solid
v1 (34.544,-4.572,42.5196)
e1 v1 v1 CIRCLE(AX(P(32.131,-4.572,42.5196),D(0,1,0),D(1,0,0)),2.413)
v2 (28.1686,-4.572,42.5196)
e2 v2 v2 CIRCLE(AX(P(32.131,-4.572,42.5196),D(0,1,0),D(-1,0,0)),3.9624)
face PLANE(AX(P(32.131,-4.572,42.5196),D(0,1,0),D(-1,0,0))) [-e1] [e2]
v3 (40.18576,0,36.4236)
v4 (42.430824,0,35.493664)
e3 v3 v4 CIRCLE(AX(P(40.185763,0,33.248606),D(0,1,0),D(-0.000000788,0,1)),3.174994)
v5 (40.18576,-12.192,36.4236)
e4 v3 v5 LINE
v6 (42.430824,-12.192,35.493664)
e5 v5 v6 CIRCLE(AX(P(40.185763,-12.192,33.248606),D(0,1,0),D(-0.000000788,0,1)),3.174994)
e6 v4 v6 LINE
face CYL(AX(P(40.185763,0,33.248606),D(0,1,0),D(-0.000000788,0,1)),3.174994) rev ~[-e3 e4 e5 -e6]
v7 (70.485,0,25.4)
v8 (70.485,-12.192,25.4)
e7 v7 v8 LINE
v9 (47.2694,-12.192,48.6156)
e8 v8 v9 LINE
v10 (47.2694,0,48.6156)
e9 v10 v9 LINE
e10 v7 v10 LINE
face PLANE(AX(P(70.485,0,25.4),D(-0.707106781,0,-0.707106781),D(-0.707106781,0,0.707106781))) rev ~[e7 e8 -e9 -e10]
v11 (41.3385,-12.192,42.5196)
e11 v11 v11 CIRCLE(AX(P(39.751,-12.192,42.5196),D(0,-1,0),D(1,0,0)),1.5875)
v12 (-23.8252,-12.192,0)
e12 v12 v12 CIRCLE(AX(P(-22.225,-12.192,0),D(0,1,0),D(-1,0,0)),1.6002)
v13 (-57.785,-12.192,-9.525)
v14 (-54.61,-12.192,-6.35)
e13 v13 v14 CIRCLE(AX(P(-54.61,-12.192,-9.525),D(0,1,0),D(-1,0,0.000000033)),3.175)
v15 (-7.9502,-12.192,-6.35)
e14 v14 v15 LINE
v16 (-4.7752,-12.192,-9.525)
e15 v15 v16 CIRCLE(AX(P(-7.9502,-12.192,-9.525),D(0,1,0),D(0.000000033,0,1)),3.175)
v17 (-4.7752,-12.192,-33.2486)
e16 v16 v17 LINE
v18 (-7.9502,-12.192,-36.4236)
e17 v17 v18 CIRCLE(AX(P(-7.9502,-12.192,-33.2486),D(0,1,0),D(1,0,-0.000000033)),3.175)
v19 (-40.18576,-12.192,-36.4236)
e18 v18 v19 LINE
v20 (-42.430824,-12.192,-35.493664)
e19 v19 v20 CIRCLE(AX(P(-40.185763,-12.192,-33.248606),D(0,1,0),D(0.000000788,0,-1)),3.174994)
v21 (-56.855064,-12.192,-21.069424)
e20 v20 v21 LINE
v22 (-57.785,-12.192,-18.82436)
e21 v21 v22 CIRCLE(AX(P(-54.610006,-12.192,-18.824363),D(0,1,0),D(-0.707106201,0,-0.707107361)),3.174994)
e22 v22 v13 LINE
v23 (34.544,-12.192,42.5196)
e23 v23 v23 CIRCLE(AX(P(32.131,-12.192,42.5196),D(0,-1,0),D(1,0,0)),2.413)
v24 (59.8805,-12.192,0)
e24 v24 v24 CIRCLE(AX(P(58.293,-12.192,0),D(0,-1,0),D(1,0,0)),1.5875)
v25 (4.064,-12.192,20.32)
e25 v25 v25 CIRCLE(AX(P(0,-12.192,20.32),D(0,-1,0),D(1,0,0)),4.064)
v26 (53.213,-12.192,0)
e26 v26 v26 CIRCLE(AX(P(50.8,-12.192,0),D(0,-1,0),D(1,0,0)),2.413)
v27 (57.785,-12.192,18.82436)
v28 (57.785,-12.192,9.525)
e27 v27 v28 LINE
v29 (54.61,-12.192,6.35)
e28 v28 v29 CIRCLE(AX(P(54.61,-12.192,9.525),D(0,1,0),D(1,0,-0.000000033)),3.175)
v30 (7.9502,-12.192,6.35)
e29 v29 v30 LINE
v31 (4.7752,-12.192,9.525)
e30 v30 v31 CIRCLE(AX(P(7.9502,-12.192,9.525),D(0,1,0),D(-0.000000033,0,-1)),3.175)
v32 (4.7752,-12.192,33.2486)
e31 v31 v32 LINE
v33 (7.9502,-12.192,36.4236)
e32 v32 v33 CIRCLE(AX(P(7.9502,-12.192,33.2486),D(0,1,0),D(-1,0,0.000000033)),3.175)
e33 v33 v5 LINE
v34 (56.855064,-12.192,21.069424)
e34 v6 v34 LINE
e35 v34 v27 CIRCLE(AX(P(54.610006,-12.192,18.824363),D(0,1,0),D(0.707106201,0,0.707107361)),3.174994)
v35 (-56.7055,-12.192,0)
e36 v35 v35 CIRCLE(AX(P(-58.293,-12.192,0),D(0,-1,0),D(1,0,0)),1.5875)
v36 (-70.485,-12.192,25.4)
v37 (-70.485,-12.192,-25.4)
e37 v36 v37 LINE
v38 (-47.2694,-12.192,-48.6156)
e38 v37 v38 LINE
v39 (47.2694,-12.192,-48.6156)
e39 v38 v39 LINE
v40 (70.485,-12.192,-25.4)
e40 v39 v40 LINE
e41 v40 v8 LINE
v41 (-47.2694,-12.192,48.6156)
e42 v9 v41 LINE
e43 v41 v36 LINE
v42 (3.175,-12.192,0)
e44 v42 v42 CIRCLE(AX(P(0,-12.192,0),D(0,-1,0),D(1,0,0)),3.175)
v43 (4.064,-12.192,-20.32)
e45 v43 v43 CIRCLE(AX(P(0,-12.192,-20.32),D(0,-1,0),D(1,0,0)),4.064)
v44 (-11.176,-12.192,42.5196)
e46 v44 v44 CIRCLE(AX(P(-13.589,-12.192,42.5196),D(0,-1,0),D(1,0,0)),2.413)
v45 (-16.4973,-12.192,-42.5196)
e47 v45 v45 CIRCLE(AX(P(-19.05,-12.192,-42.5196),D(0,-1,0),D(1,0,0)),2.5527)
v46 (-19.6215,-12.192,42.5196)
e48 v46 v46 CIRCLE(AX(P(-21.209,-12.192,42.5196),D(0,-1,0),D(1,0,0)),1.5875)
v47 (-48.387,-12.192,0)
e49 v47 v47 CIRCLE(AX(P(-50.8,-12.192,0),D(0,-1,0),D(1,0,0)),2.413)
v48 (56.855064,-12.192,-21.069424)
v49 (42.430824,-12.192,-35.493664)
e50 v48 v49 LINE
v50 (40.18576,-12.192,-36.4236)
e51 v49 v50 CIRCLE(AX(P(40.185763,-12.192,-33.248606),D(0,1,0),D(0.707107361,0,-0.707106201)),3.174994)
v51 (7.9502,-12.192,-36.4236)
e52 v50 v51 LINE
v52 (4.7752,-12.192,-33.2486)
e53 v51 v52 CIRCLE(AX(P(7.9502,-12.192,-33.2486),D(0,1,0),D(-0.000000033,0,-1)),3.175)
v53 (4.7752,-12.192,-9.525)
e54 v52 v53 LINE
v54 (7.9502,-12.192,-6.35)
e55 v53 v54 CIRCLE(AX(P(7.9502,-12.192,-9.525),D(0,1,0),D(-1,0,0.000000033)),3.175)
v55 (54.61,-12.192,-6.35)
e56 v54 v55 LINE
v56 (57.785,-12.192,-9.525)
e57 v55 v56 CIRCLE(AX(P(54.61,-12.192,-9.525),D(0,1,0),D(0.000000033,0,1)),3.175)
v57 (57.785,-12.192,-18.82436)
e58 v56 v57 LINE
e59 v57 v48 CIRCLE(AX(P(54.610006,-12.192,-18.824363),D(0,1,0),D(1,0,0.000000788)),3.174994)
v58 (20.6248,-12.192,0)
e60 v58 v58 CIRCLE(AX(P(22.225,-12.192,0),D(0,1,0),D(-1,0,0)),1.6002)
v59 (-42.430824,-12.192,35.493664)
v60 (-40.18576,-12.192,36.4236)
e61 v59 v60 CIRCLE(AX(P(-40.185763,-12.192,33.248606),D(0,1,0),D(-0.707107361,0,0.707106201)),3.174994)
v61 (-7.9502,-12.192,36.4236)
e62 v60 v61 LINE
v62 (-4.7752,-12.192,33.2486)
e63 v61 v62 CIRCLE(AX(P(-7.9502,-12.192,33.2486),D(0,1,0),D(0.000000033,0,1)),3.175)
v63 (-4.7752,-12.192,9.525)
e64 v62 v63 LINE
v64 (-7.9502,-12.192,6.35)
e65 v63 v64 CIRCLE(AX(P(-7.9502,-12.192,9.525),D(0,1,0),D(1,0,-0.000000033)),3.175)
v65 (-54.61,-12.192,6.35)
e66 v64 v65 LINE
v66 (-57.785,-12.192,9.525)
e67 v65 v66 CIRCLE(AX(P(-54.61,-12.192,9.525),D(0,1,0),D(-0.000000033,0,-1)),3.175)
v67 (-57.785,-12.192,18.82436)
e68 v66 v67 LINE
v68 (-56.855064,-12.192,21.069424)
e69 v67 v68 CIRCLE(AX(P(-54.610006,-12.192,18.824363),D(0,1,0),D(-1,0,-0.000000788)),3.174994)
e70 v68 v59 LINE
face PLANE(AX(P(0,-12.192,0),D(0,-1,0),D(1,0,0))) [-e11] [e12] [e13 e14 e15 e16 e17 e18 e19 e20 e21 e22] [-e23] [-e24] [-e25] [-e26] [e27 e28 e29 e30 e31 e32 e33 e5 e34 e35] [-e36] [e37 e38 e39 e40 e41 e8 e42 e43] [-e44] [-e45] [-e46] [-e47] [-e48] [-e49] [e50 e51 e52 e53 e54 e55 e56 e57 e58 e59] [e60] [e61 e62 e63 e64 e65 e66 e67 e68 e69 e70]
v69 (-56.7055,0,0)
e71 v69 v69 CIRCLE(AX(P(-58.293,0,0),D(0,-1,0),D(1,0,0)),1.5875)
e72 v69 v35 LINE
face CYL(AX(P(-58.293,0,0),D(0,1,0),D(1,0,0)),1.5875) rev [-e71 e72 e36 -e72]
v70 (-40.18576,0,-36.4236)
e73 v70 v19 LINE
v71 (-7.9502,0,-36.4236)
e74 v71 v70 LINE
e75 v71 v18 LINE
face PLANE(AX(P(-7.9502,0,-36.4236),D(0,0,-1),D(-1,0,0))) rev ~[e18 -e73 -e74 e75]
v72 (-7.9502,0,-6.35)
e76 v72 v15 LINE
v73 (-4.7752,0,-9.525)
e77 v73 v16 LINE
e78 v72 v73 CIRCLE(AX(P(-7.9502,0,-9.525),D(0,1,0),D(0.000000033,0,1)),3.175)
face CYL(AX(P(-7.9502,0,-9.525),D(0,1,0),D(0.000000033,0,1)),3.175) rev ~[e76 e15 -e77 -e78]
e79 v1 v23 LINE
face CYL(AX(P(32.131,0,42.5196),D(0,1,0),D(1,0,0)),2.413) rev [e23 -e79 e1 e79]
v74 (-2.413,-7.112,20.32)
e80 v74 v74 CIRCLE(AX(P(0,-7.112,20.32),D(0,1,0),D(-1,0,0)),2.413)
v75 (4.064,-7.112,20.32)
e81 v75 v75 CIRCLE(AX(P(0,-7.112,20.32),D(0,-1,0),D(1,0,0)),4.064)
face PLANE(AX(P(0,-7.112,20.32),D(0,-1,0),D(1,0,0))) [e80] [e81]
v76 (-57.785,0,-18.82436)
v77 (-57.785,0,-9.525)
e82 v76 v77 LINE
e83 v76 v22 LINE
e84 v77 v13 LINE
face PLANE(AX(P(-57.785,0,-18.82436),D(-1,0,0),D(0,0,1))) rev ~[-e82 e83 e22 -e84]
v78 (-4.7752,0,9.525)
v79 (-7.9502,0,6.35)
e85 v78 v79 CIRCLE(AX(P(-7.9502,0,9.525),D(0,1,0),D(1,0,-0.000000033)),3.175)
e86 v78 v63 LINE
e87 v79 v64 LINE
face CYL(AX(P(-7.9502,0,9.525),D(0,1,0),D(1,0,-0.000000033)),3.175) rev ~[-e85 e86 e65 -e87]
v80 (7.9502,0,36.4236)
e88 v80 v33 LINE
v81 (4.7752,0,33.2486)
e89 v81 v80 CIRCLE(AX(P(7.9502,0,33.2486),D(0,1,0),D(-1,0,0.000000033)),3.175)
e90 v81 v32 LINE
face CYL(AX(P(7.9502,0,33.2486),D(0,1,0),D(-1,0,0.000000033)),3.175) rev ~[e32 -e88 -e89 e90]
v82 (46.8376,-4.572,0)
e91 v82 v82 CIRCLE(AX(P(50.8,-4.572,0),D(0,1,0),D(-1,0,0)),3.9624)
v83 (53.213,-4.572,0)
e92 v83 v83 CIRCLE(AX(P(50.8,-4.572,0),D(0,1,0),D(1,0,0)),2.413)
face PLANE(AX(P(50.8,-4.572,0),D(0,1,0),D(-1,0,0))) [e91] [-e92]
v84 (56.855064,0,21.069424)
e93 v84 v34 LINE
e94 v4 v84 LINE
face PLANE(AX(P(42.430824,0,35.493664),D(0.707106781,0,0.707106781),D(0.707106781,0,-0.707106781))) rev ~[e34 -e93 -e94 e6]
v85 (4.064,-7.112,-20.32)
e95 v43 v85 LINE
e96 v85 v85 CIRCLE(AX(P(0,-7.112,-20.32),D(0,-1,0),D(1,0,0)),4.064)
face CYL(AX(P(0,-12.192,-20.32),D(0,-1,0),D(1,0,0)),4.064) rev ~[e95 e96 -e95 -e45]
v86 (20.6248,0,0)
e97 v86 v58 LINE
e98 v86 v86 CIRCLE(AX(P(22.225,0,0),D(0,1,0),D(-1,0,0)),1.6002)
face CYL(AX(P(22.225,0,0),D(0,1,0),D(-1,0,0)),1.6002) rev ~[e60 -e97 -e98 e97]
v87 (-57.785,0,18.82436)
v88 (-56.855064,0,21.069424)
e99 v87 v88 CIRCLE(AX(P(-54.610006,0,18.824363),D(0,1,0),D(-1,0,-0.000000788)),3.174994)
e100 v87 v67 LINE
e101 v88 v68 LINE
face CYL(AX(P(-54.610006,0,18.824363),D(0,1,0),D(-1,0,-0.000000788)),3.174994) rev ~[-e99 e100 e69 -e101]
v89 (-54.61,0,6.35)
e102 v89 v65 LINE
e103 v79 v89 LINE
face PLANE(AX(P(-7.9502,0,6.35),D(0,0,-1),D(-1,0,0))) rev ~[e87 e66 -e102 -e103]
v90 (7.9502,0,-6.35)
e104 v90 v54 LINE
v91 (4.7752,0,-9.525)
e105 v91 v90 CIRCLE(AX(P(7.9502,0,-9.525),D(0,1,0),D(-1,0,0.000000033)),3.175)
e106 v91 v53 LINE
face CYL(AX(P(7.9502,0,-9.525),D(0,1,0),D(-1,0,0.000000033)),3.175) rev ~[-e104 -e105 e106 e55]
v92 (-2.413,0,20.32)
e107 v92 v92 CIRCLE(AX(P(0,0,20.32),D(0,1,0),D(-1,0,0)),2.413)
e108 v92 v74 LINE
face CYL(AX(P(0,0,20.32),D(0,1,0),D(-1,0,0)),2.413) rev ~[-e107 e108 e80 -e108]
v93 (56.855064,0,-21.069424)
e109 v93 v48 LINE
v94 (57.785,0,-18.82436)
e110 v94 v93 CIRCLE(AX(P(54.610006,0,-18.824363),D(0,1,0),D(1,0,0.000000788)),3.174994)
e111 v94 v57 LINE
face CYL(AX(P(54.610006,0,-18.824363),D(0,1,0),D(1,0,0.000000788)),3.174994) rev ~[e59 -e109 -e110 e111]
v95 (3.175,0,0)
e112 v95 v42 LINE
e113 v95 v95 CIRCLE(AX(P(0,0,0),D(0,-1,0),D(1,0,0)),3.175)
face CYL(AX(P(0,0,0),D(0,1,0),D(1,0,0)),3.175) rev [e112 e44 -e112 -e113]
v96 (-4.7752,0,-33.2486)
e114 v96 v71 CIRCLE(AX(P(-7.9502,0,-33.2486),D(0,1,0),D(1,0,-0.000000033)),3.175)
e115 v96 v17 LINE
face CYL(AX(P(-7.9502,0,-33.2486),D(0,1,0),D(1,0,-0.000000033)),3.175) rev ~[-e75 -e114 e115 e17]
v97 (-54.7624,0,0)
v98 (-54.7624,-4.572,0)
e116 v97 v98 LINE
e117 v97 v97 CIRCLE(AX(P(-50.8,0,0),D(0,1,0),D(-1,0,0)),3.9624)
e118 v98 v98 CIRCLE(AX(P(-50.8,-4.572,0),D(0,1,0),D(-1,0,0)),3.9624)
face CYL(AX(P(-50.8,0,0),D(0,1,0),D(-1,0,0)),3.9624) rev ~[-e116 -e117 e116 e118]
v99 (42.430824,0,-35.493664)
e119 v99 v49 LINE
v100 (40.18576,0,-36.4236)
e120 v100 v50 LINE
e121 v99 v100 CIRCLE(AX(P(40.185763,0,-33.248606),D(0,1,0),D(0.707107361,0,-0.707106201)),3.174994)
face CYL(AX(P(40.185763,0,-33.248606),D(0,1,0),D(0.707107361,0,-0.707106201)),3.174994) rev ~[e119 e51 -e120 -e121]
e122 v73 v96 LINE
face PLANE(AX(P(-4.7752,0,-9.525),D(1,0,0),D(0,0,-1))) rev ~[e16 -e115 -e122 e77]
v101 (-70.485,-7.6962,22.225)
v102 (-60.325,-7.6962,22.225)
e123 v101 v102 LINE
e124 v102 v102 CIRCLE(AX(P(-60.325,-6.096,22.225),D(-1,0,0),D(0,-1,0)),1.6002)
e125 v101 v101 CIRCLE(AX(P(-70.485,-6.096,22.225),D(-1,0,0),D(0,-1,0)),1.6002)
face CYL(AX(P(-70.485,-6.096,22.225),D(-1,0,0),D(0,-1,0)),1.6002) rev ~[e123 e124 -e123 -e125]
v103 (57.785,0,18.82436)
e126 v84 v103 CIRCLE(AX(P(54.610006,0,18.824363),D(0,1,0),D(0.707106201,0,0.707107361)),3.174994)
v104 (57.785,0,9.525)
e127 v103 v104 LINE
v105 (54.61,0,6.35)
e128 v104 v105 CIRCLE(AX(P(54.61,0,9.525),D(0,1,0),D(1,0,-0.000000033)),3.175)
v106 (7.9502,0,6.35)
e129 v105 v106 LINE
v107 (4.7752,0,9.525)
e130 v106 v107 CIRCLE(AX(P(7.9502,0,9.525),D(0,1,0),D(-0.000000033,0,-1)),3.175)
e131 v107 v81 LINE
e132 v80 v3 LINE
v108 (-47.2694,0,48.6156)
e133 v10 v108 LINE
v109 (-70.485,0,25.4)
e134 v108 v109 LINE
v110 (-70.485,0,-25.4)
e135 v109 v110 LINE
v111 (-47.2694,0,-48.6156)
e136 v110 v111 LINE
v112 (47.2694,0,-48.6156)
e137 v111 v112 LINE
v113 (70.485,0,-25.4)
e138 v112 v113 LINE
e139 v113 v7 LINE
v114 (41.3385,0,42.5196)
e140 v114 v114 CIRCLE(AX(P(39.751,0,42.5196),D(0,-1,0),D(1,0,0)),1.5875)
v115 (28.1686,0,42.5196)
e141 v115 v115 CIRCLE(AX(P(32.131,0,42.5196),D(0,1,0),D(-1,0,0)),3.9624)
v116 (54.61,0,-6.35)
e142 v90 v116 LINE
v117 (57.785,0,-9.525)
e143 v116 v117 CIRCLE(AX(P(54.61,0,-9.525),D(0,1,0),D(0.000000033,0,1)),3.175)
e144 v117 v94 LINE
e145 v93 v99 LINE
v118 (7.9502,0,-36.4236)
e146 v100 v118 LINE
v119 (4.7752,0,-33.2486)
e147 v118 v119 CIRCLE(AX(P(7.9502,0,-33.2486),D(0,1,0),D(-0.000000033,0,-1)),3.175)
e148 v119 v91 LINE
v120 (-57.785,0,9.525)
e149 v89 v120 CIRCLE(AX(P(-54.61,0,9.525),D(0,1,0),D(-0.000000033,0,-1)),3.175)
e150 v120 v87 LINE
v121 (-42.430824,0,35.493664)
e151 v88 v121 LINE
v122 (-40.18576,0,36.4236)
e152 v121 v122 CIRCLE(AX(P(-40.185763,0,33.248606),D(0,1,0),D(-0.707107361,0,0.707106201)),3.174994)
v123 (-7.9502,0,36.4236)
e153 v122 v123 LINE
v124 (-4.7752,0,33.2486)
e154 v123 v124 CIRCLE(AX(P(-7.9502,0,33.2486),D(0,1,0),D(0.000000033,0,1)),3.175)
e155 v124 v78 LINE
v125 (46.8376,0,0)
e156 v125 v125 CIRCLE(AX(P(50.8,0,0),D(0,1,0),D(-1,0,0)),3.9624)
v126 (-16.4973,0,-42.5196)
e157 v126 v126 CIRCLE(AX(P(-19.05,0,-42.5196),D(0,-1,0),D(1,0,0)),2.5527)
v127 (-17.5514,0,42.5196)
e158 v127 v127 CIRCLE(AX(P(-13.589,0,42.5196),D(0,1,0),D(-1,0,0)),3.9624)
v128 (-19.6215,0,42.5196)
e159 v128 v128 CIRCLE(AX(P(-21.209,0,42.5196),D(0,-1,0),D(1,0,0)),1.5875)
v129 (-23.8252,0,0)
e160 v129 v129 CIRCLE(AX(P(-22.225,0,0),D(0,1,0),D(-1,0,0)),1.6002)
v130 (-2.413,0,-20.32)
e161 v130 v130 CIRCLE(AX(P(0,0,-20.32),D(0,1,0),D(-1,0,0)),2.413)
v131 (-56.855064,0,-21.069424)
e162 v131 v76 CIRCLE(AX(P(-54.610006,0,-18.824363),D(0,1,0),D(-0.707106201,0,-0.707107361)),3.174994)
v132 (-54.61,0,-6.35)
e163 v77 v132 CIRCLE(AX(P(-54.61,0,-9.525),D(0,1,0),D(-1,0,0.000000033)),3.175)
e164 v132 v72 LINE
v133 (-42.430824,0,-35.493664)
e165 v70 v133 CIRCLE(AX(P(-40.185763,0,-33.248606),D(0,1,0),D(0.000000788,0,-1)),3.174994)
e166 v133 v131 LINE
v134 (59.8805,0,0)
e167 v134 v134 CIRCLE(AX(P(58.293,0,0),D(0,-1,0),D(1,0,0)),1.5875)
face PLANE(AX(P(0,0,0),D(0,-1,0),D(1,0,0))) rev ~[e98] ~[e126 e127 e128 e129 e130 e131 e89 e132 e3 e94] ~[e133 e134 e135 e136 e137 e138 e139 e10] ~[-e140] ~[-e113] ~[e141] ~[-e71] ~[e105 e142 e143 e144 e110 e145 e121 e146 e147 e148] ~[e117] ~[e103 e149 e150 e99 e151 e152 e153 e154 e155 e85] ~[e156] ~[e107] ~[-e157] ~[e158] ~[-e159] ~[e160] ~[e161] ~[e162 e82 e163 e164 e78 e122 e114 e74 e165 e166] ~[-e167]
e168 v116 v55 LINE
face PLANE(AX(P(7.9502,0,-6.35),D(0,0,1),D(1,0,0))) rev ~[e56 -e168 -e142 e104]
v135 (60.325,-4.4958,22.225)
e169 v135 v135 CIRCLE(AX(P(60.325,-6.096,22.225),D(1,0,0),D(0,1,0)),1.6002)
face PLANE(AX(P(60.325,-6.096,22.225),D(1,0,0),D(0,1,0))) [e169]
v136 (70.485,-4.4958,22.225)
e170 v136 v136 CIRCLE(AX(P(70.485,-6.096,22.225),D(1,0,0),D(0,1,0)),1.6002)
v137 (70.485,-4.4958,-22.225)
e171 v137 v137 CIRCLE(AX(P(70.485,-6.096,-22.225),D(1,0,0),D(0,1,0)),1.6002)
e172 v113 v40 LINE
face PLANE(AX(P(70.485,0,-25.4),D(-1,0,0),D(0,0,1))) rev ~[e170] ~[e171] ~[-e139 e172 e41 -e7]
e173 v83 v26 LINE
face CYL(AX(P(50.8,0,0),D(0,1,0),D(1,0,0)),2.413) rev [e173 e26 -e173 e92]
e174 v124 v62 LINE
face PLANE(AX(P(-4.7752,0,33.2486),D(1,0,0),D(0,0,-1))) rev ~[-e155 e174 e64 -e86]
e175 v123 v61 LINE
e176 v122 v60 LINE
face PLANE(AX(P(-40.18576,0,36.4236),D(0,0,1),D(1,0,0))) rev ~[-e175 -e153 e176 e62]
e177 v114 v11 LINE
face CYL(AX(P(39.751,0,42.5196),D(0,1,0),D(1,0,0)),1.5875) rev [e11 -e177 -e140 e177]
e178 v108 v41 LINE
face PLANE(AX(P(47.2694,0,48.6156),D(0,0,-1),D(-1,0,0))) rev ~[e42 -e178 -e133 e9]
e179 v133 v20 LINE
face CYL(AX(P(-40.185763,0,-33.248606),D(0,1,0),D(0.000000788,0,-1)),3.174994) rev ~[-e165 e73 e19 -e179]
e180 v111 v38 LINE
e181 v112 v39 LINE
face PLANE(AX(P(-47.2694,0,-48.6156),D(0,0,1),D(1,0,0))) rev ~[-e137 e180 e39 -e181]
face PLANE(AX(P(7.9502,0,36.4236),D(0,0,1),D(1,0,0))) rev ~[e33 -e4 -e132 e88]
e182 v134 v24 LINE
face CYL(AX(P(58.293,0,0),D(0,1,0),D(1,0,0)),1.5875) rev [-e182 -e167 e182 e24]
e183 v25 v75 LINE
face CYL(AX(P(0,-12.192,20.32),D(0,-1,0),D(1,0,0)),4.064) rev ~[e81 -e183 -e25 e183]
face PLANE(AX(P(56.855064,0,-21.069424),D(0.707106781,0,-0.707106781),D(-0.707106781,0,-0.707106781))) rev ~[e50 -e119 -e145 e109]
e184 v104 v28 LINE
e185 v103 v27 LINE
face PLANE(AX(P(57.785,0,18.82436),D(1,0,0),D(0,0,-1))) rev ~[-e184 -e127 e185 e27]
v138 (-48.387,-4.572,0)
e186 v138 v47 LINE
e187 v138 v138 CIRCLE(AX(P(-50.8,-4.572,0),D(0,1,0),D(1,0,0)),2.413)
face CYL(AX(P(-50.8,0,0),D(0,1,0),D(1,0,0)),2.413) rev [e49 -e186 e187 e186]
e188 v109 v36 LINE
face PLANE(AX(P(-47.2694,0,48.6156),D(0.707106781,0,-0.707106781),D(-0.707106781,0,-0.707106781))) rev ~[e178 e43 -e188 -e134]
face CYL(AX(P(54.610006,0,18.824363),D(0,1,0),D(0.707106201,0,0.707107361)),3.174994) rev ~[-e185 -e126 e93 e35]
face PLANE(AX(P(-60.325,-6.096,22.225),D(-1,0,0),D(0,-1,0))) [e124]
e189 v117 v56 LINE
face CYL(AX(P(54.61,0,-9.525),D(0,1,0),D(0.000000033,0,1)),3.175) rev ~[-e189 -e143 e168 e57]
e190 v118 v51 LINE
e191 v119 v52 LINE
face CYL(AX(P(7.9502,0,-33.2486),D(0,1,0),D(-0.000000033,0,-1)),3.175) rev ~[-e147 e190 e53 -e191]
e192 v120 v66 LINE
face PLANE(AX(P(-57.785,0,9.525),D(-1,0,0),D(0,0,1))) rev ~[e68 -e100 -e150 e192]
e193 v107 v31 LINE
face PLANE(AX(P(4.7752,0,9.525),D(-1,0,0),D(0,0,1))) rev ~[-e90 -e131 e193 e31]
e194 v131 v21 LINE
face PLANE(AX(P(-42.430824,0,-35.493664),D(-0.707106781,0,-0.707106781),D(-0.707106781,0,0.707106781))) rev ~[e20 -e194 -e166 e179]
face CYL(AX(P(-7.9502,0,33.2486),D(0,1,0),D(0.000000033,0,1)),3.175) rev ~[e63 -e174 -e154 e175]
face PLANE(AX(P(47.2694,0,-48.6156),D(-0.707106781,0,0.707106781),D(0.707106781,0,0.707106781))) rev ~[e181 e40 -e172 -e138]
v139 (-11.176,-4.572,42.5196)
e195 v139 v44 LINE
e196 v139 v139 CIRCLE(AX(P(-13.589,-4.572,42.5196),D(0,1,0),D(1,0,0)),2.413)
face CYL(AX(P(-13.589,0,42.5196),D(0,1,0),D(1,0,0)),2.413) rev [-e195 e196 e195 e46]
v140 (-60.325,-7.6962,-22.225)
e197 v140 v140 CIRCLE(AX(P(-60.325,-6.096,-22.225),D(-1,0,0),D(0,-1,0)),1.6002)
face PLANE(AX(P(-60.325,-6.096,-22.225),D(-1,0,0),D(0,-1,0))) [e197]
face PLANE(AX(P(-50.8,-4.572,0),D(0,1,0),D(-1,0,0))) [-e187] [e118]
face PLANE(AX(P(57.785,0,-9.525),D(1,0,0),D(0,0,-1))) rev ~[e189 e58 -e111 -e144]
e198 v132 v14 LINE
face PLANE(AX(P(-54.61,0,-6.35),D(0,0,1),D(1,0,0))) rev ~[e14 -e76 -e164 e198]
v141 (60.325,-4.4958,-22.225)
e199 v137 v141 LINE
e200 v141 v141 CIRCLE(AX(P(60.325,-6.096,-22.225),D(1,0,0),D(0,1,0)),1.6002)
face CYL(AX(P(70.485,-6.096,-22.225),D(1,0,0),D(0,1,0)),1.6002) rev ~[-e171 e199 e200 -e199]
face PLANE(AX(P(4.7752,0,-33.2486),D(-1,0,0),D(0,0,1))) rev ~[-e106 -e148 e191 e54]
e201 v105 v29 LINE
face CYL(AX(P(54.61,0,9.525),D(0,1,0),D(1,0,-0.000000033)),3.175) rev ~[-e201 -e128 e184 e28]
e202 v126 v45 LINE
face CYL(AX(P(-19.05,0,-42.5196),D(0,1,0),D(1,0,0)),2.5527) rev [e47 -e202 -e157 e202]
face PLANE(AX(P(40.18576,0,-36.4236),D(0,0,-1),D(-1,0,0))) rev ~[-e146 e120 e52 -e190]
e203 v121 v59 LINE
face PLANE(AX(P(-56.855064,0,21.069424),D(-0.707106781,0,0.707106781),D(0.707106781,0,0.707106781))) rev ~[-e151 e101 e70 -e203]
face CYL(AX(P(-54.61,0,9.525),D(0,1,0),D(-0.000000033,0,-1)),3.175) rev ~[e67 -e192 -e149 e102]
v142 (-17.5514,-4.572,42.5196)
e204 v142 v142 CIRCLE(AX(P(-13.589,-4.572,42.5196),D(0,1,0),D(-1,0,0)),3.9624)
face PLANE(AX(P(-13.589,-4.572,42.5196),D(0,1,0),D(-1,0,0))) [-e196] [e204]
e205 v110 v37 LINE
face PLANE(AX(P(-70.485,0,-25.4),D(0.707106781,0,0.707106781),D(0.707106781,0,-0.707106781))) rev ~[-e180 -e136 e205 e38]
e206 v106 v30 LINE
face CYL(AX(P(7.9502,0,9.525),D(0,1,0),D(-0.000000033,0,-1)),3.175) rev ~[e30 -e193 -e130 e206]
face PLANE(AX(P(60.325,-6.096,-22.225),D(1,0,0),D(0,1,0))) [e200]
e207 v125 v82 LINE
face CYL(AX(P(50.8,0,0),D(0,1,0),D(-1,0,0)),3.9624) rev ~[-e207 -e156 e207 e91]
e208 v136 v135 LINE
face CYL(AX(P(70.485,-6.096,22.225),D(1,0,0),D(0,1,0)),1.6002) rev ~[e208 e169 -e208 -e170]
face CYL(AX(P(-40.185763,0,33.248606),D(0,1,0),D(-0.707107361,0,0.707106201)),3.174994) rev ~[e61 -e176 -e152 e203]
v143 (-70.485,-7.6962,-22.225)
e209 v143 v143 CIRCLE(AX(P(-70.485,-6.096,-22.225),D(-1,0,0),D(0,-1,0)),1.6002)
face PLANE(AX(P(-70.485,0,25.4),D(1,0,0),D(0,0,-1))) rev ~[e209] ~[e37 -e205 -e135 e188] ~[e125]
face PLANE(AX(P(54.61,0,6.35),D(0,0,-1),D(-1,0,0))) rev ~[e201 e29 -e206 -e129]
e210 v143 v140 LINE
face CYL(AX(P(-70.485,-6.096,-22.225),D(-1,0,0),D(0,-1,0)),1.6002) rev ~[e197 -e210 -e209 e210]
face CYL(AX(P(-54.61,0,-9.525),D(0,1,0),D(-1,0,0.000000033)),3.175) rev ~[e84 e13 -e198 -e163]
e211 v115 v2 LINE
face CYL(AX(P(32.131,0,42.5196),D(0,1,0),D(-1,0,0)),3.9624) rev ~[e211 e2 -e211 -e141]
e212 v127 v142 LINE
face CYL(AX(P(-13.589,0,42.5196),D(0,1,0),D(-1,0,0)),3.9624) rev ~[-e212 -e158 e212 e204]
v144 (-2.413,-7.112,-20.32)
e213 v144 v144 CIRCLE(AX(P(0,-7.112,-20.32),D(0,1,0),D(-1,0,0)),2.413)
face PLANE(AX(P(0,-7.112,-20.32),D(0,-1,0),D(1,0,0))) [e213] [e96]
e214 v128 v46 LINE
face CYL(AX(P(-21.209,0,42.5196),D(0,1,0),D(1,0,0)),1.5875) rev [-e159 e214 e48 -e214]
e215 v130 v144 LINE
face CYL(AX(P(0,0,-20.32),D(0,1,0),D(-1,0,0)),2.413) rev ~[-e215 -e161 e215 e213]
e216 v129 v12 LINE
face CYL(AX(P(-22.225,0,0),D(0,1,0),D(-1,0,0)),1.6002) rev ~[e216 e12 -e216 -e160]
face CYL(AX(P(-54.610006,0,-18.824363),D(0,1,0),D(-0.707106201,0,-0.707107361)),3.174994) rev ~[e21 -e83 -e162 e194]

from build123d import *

# Parameters (mm, degrees)
F0_R      = 2.5527
F0_R_2    = 1.5875
F0_R_3    = 2.413
F0_R_4    = 3.175
F1_DEPTH  = 12.192
F2_R      = 3.9624
F3_DEPTH  = 4.572
F4_R      = 1.6002
F5_DEPTH  = 10.16
F6_R      = 1.6002
F7_DEPTH  = 10.16
F8_R      = 2.413
F8_R_2    = 1.6002
F9_DEPTH  = 12.193
F10_R     = 4.064
F11_DEPTH = 5.08


with BuildPart() as f1:
    # F0 (on Front) → F1 (new body)
    with BuildSketch(Plane.XZ):
        Polygon((47.2694, 48.6156), (0, 48.6156), (-47.2694, 48.6156), (-70.485, 25.4), (-70.485, 0), (-70.485, -25.4), (-47.2694, -48.6156), (0, -48.6156), (47.2694, -48.6156), (70.485, -25.4), (70.485, 0), (70.485, 25.4), align=None)
        with Locations((-19.05, -42.5196)):
            Circle(F0_R, mode=Mode.SUBTRACT)
        with BuildLine():
            Line((-7.9502, -36.4236), (-40.18576, -36.4236))
            ThreePointArc((-40.18576, -36.4236), (-41.40078, -36.181918), (-42.430824, -35.493664))
            Line((-42.430824, -35.493664), (-56.855064, -21.069424))
            ThreePointArc((-56.855064, -21.069424), (-57.543318, -20.03938), (-57.785, -18.82436))
            Line((-57.785, -18.82436), (-57.785, -9.525))
            ThreePointArc((-57.785, -9.525), (-56.855064, -7.279936), (-54.61, -6.35))
            Line((-54.61, -6.35), (-7.9502, -6.35))
            ThreePointArc((-7.9502, -6.35), (-5.705136, -7.279936), (-4.7752, -9.525))
            Line((-4.7752, -9.525), (-4.7752, -33.2486))
            ThreePointArc((-4.7752, -33.2486), (-5.705136, -35.493664), (-7.9502, -36.4236))
        make_face(mode=Mode.SUBTRACT)
        with BuildLine():
            ThreePointArc((57.785, -18.82436), (57.543318, -20.03938), (56.855064, -21.069424))
            Line((56.855064, -21.069424), (42.430824, -35.493664))
            ThreePointArc((42.430824, -35.493664), (41.40078, -36.181918), (40.18576, -36.4236))
            Line((40.18576, -36.4236), (7.9502, -36.4236))
            ThreePointArc((7.9502, -36.4236), (5.705136, -35.493664), (4.7752, -33.2486))
            Line((4.7752, -33.2486), (4.7752, -9.525))
            ThreePointArc((4.7752, -9.525), (5.705136, -7.279936), (7.9502, -6.35))
            Line((7.9502, -6.35), (54.61, -6.35))
            ThreePointArc((54.61, -6.35), (56.855064, -7.279936), (57.785, -9.525))
            Line((57.785, -9.525), (57.785, -18.82436))
        make_face(mode=Mode.SUBTRACT)
        with Locations((-58.293, 0)):
            Circle(F0_R_2, mode=Mode.SUBTRACT)
        with Locations((-50.8, 0)):
            Circle(F0_R_3, mode=Mode.SUBTRACT)
        with BuildLine():
            Line((-40.18576, 36.4236), (-7.9502, 36.4236))
            ThreePointArc((-7.9502, 36.4236), (-5.705136, 35.493664), (-4.7752, 33.2486))
            Line((-4.7752, 33.2486), (-4.7752, 9.525))
            ThreePointArc((-4.7752, 9.525), (-5.705136, 7.279936), (-7.9502, 6.35))
            Line((-7.9502, 6.35), (-54.61, 6.35))
            ThreePointArc((-54.61, 6.35), (-56.855064, 7.279936), (-57.785, 9.525))
            Line((-57.785, 9.525), (-57.785, 18.82436))
            ThreePointArc((-57.785, 18.82436), (-57.543318, 20.03938), (-56.855064, 21.069424))
            Line((-56.855064, 21.069424), (-42.430824, 35.493664))
            ThreePointArc((-42.430824, 35.493664), (-41.40078, 36.181918), (-40.18576, 36.4236))
        make_face(mode=Mode.SUBTRACT)
        with Locations((-21.209, 42.5196)):
            Circle(F0_R_2, mode=Mode.SUBTRACT)
        with Locations((-13.589, 42.5196)):
            Circle(F0_R_3, mode=Mode.SUBTRACT)
        Circle(F0_R_4, mode=Mode.SUBTRACT)
        with BuildLine():
            ThreePointArc((57.785, 9.525), (56.855064, 7.279936), (54.61, 6.35))
            Line((54.61, 6.35), (7.9502, 6.35))
            ThreePointArc((7.9502, 6.35), (5.705136, 7.279936), (4.7752, 9.525))
            Line((4.7752, 9.525), (4.7752, 33.2486))
            ThreePointArc((4.7752, 33.2486), (5.705136, 35.493664), (7.9502, 36.4236))
            Line((7.9502, 36.4236), (40.18576, 36.4236))
            ThreePointArc((40.18576, 36.4236), (41.40078, 36.181918), (42.430824, 35.493664))
            Line((42.430824, 35.493664), (56.855064, 21.069424))
            ThreePointArc((56.855064, 21.069424), (57.543318, 20.03938), (57.785, 18.82436))
            Line((57.785, 18.82436), (57.785, 9.525))
        make_face(mode=Mode.SUBTRACT)
        with Locations((50.8, 0)):
            Circle(F0_R_3, mode=Mode.SUBTRACT)
        with Locations((58.293, 0)):
            Circle(F0_R_2, mode=Mode.SUBTRACT)
        with Locations((32.131, 42.5196)):
            Circle(F0_R_3, mode=Mode.SUBTRACT)
        with Locations((39.751, 42.5196)):
            Circle(F0_R_2, mode=Mode.SUBTRACT)
    extrude(amount=F1_DEPTH)

    # F2 (on face) → F3 (cut)
    with BuildSketch(Plane(origin=(0, 0, 0), x_dir=(-1, 0, 0), z_dir=(0, 1, 0))):
        with Locations((50.8, 0)):
            Circle(F2_R)
        with Locations((13.589, 42.5196)):
            Circle(F2_R)
        with Locations((-32.131, 42.5196)):
            Circle(F2_R)
        with Locations((-50.8, 0)):
            Circle(F2_R)
    extrude(amount=-F3_DEPTH, mode=Mode.SUBTRACT)

    # F4 (on face) → F5 (cut)
    with BuildSketch(Plane.YZ.offset(70.485)):
        with Locations((-6.096, 22.225)):
            Circle(F4_R)
        with Locations((-6.096, -22.225)):
            Circle(F4_R)
    extrude(amount=-F5_DEPTH, mode=Mode.SUBTRACT)

    # F6 (on face) → F7 (cut)
    with BuildSketch(Plane(origin=(-70.485, 0, 0), x_dir=(0, -1, 0), z_dir=(-1, 0, 0))):
        with Locations((6.096, 22.225)):
            Circle(F6_R)
        with Locations((6.096, -22.225)):
            Circle(F6_R)
    extrude(amount=-F7_DEPTH, mode=Mode.SUBTRACT)

    # F8 (on face) → F9 (cut, through all)
    with BuildSketch(Plane(origin=(0, 0, 0), x_dir=(-1, 0, 0), z_dir=(0, 1, 0))):
        with Locations((0, -20.32)):
            Circle(F8_R)
        with Locations((0, 20.32)):
            Circle(F8_R)
        with Locations((22.225, 0)):
            Circle(F8_R_2)
        with Locations((-22.225, 0)):
            Circle(F8_R_2)
    extrude(amount=-F9_DEPTH, mode=Mode.SUBTRACT)

    # F10 (on face) → F11 (cut)
    with BuildSketch(Plane.XZ.offset(12.192)):
        with Locations((0, -20.32)):
            Circle(F10_R)
        with Locations((0, 20.32)):
            Circle(F10_R)
    extrude(amount=-F11_DEPTH, mode=Mode.SUBTRACT)


solid = f1.part
